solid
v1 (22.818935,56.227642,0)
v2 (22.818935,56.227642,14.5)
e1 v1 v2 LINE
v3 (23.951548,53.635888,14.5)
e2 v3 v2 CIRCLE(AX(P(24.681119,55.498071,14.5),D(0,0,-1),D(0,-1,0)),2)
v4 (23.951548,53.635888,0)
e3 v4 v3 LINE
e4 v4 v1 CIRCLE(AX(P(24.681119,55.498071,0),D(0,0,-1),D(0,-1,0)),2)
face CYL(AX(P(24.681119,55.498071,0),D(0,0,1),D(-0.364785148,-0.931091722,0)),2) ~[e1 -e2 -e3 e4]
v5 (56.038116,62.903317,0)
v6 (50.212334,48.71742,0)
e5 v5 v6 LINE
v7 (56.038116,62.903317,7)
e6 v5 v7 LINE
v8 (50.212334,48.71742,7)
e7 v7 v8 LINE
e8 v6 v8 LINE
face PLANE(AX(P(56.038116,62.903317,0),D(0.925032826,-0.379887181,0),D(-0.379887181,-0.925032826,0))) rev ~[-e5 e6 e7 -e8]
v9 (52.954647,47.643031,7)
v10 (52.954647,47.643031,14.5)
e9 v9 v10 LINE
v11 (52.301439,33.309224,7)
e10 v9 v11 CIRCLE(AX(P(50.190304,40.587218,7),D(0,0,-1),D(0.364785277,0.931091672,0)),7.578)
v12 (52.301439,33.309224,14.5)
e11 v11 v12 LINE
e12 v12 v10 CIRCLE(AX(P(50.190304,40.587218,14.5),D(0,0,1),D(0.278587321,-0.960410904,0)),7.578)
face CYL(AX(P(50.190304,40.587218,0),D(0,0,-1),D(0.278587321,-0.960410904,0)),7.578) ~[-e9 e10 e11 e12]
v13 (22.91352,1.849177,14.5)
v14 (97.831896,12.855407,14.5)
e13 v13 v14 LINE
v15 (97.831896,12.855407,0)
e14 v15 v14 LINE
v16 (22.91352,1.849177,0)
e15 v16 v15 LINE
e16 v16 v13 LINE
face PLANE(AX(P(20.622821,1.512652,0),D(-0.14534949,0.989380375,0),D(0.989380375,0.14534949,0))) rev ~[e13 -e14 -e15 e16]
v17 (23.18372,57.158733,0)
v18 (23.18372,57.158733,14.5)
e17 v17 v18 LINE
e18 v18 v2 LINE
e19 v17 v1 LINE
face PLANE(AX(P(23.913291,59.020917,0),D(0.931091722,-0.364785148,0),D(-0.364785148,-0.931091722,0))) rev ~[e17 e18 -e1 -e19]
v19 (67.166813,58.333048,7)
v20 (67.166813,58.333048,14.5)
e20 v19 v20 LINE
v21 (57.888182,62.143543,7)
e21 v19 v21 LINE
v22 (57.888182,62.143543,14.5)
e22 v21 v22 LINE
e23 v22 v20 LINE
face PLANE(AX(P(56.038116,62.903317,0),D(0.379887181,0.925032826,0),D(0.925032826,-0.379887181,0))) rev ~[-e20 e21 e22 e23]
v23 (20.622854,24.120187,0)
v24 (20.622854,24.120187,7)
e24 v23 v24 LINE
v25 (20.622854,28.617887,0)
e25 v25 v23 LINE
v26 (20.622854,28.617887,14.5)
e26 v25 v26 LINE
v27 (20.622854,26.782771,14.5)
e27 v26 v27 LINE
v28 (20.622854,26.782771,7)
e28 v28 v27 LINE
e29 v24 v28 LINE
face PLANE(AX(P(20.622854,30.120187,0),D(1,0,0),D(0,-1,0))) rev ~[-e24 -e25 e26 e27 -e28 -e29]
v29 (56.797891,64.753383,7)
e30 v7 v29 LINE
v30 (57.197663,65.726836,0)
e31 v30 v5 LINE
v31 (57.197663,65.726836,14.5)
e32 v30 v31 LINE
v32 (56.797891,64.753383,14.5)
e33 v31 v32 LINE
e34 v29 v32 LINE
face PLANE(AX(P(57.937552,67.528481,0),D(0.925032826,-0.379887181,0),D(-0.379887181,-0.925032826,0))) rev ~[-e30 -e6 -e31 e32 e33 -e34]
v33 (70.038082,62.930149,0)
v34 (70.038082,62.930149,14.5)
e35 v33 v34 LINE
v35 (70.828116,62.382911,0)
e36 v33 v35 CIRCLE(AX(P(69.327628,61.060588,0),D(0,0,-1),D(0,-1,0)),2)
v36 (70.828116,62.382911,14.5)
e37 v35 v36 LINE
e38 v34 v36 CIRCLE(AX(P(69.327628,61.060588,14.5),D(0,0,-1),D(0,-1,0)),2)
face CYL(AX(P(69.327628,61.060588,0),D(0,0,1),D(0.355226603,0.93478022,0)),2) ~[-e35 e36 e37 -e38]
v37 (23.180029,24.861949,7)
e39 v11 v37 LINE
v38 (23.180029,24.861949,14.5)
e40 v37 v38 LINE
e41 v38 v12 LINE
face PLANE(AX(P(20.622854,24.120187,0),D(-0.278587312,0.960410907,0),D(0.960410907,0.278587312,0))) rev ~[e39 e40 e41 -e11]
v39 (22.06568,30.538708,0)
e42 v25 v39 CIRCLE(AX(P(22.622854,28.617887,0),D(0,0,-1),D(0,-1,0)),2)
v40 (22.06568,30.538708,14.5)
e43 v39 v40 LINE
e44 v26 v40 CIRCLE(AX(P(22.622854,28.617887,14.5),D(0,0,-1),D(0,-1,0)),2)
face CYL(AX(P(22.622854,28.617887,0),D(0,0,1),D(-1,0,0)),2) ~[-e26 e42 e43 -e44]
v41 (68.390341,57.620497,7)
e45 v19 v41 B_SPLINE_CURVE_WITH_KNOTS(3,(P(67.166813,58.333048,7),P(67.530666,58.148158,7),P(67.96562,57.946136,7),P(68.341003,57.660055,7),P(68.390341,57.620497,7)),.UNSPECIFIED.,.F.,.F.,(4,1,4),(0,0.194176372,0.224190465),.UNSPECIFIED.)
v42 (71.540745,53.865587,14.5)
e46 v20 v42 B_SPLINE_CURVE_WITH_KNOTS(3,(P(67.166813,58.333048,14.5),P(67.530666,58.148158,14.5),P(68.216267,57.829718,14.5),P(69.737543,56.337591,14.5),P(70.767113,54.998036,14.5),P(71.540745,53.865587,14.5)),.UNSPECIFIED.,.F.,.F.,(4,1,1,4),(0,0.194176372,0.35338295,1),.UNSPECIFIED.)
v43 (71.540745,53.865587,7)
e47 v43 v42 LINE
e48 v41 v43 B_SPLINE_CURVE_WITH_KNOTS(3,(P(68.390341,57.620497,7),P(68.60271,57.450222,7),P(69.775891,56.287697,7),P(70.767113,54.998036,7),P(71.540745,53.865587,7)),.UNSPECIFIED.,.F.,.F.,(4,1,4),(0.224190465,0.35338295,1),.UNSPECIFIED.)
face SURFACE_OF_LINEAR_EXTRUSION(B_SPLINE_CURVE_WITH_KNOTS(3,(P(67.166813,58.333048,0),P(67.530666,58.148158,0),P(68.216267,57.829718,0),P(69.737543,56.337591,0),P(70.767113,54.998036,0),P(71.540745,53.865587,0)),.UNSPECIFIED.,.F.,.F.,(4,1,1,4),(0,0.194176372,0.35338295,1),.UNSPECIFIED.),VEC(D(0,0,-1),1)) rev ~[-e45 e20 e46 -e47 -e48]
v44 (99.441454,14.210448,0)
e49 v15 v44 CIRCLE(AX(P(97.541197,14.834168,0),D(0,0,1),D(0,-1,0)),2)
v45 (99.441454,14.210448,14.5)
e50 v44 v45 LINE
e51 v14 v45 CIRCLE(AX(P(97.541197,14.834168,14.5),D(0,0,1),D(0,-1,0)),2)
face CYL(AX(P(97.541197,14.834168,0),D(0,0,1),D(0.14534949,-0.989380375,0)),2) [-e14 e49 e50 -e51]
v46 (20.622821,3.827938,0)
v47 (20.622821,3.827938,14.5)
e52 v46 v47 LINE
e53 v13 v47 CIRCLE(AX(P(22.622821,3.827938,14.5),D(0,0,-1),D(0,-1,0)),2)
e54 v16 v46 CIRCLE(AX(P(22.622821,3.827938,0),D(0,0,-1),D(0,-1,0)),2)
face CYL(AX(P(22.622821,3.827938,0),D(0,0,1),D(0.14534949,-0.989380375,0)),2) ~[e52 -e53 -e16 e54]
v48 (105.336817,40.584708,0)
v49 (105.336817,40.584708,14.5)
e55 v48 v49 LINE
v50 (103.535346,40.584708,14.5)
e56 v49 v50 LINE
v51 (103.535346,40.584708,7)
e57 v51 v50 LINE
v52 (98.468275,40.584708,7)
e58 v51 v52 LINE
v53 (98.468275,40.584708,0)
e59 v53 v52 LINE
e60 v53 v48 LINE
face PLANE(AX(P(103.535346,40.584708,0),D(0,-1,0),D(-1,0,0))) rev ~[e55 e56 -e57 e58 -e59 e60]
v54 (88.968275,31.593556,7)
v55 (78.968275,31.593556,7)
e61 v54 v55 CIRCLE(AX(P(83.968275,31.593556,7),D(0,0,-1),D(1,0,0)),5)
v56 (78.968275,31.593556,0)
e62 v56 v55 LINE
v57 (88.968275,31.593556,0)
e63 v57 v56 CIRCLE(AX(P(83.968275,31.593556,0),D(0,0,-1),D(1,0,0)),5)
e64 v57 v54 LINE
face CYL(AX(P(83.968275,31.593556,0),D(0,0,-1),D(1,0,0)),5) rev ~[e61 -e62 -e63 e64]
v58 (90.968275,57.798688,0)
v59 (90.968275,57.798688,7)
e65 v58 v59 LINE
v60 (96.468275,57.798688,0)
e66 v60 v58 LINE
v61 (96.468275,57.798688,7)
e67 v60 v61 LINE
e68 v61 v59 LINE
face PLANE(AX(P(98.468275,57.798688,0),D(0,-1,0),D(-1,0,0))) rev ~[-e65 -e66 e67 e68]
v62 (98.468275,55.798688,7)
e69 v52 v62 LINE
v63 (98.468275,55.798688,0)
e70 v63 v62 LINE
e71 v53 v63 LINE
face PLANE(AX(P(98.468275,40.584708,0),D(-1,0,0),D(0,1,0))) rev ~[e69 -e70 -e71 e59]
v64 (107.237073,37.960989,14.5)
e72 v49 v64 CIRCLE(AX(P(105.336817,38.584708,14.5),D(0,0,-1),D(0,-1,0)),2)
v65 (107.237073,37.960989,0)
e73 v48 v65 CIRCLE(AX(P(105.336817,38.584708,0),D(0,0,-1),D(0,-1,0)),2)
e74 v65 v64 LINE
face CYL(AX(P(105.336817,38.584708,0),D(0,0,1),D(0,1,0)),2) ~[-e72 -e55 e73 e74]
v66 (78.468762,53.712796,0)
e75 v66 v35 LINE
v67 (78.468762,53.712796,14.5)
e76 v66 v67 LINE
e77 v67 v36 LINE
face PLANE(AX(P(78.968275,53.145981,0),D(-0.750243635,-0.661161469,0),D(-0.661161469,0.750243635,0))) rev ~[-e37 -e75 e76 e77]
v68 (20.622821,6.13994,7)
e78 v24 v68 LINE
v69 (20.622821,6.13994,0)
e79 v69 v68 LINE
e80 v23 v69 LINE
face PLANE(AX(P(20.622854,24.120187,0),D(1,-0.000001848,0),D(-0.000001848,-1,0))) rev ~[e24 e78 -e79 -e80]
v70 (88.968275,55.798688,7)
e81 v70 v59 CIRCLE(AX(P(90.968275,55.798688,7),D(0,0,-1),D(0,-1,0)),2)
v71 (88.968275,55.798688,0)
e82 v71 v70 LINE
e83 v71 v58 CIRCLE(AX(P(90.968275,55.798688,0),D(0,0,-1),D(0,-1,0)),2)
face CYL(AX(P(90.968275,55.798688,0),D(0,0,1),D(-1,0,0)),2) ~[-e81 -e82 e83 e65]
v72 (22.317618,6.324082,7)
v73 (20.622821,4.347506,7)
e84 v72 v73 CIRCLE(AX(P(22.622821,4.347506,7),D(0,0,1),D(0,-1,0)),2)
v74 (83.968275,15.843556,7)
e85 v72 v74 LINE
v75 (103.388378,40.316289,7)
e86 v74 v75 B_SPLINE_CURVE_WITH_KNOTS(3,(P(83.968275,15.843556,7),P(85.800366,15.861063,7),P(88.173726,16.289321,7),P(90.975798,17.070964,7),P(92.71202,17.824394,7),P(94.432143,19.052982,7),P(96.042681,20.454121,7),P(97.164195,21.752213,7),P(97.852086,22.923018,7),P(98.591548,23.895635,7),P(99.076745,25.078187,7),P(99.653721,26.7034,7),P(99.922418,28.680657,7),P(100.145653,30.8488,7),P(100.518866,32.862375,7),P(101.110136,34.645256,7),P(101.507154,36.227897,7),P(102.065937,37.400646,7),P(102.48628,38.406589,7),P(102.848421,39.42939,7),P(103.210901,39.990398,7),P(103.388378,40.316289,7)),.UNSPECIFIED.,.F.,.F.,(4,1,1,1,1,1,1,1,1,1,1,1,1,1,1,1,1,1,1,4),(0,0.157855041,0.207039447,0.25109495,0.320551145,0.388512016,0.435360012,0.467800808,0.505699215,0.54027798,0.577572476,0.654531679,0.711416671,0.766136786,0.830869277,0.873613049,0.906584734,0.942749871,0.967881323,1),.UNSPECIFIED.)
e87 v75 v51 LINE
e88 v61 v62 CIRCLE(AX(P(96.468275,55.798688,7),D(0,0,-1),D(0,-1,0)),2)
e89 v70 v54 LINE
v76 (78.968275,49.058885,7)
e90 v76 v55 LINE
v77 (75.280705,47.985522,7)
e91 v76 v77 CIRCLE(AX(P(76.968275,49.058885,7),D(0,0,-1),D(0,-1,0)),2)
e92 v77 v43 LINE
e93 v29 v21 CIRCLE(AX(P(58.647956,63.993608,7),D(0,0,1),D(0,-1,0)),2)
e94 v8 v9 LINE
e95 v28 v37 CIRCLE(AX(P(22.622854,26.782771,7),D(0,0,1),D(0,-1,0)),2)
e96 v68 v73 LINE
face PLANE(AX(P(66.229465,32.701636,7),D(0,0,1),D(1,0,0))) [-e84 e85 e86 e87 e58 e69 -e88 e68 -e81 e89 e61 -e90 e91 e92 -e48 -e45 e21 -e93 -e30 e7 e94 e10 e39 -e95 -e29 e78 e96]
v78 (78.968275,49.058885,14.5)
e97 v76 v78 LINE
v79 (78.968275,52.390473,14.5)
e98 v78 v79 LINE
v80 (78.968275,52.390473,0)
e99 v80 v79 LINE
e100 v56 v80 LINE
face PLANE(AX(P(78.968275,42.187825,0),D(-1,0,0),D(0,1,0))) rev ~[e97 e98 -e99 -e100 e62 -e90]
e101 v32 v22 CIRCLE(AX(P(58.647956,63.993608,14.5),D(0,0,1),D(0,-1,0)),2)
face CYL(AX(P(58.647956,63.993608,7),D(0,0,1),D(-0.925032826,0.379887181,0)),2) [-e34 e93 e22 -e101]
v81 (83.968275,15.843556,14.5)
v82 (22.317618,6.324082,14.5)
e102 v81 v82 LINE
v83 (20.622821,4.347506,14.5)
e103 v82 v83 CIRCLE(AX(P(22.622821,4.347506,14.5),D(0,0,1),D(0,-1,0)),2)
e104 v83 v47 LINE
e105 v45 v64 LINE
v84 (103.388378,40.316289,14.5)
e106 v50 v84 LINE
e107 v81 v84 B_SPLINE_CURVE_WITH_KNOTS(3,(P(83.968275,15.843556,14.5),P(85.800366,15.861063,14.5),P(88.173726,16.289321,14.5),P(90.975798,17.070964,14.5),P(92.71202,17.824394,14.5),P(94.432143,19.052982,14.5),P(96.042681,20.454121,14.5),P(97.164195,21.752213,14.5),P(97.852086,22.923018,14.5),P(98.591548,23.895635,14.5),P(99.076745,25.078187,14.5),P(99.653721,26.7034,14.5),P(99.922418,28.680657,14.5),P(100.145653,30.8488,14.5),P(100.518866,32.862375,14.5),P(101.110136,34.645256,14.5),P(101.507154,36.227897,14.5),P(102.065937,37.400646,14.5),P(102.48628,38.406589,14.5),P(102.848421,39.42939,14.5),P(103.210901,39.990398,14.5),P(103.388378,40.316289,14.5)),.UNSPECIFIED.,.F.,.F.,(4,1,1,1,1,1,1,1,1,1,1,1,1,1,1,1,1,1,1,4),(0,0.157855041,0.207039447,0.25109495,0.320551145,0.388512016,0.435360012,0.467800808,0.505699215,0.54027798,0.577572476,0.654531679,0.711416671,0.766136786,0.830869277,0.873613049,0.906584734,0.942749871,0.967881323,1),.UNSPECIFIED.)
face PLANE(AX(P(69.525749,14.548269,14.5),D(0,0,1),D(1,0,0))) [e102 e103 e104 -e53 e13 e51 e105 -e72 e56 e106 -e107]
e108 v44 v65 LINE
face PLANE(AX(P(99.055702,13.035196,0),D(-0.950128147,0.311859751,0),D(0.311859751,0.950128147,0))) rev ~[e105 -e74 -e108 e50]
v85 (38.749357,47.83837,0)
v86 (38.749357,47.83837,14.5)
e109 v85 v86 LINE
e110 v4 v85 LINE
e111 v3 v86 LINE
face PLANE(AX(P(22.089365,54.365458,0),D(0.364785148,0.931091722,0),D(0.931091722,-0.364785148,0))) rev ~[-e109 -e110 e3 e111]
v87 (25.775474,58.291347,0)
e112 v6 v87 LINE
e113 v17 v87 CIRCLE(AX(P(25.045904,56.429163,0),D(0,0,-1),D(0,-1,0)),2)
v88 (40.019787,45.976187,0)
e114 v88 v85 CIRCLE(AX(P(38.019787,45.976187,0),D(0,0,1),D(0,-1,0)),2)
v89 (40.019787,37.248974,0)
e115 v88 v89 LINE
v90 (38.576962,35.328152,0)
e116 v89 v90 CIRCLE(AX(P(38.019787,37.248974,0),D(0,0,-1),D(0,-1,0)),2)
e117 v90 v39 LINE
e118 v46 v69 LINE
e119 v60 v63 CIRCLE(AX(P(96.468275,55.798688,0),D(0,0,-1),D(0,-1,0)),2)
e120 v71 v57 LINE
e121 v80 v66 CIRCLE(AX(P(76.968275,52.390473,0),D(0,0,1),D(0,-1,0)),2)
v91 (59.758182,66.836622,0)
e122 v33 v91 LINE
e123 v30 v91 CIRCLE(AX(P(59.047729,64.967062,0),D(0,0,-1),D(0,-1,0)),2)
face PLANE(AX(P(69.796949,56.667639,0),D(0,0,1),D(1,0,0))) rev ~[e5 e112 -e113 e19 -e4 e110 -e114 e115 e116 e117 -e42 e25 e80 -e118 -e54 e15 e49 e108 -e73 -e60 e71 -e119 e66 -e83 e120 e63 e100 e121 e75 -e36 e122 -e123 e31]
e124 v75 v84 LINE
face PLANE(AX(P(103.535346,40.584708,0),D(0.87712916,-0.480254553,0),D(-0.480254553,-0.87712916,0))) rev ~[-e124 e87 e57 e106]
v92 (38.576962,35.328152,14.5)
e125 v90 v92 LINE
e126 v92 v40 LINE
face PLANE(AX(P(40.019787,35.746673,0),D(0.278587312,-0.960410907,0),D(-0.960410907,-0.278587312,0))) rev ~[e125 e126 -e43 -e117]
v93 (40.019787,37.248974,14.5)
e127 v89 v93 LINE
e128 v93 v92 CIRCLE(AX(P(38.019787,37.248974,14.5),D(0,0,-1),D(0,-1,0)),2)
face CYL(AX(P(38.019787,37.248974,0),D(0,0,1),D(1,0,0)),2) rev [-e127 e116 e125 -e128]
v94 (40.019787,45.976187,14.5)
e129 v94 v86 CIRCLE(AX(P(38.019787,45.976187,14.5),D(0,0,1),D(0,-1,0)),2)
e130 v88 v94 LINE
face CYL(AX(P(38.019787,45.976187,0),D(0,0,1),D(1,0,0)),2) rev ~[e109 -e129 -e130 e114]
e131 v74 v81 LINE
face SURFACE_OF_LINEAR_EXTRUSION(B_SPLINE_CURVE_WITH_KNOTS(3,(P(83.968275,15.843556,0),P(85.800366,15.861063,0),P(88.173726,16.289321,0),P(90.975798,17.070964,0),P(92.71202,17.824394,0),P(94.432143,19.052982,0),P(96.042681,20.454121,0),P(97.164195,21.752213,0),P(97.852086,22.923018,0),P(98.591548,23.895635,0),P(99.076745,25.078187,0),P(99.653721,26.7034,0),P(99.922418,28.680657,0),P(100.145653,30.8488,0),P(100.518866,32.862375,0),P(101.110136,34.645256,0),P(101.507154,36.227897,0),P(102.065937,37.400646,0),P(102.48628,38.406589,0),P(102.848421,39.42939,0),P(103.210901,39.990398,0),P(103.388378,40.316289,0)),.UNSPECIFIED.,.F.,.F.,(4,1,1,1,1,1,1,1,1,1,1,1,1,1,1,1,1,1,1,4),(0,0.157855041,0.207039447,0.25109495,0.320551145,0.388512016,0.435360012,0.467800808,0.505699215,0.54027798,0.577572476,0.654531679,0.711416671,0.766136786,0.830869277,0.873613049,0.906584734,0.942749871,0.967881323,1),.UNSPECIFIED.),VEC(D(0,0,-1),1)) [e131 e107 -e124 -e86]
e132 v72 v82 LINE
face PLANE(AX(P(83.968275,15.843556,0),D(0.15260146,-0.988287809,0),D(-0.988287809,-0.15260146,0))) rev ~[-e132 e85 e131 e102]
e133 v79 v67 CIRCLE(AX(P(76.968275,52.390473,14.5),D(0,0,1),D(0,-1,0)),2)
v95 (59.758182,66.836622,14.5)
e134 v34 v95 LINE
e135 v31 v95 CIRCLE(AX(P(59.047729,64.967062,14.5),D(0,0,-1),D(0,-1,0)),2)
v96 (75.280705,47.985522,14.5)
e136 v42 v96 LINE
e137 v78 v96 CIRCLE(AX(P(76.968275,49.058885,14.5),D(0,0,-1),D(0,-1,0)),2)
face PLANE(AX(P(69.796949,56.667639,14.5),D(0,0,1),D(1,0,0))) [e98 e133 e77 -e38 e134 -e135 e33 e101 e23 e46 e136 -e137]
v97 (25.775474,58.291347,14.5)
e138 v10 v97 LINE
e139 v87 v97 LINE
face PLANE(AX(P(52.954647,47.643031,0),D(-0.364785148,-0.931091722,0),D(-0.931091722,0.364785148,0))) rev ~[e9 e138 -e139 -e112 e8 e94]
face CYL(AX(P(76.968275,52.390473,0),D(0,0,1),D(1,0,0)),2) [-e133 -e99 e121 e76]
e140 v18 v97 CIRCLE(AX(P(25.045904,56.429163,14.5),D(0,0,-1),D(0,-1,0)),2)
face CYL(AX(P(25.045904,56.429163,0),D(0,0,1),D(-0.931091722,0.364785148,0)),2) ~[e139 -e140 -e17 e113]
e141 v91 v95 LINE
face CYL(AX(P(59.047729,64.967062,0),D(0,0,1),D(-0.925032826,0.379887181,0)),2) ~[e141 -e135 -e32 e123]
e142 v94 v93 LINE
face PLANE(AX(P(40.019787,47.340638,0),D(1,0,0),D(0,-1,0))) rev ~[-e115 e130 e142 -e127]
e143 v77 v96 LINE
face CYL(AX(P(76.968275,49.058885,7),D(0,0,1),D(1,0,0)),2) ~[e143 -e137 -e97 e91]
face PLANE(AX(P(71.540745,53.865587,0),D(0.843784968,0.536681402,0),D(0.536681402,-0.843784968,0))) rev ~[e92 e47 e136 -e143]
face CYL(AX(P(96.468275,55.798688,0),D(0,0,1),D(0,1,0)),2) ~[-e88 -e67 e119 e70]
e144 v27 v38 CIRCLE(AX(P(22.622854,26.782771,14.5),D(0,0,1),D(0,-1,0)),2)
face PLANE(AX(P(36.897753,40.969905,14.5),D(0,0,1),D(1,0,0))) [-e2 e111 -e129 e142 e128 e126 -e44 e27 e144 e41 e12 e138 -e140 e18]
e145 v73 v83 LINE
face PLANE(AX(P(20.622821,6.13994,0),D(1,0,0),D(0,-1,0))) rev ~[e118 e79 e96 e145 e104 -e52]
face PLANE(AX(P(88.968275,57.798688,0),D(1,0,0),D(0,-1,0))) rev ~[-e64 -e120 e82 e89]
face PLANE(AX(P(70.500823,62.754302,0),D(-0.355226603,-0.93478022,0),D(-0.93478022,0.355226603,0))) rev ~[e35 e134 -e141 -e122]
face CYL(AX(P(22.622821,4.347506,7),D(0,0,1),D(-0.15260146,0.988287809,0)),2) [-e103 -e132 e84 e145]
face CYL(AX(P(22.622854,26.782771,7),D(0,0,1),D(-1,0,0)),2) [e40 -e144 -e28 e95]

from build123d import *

# Parameters (mm, degrees)
BOSS_EXTRUDE1_DEPTH = 7
BOSS_EXTRUDE2_DEPTH = 14.5
FILLET1_R           = 2


with BuildPart() as part:
    # Sketch1 → Boss-Extrude1 (new body)
    with BuildSketch(Plane.XY):
        with BuildLine():
            Line((78.968274755, 42.187825254), (71.540745427, 53.865587102))
            add(Edge.make_bspline(
                [(68.390340924, 57.620496538), (68.602709936, 57.450222077), (69.775890669, 56.287697417), (70.767112906, 54.998035869), (71.540745427, 53.865587102)],
                knots=[0.224190465, 0.224190465, 0.224190465, 0.224190465, 0.35338295, 1, 1, 1, 1], degree=3))
            add(Edge.make_bspline(
                [(67.166812946, 58.333047532), (67.530665789, 58.148158455), (67.965619608, 57.94613578), (68.341003199, 57.660054826), (68.390340924, 57.620496538)],
                knots=[0, 0, 0, 0, 0.194176372, 0.224190465, 0.224190465, 0.224190465, 0.224190465], degree=3))
            Line((67.166812946, 58.333047532), (56.038116318, 62.903316899))
            Line((56.038116318, 62.903316899), (50.212333598, 48.717420333))
            Line((50.212333598, 48.717420333), (52.954647131, 47.643030748))
            ThreePointArc((52.954647131, 47.643030748), (57.760447877, 40.242237766), (52.301439007, 33.309224011))
            Line((52.301439007, 33.309224011), (20.622854325, 24.120186594))
            Line((20.622854325, 24.120186594), (20.622821101, 6.139939904))
            Line((20.622821101, 6.139939904), (20.622821101, 6.062388022))
            Line((20.622821101, 6.062388022), (83.968274755, 15.843555634))
            add(Edge.make_bspline(
                [(83.968274755, 15.843555634), (85.800365799, 15.861062532), (88.173725783, 16.289321284), (90.975797999, 17.070964386), (92.71201966, 17.824393939), (94.432142997, 19.052982354), (96.042680501, 20.454120962), (97.16419489, 21.752212783), (97.85208587, 22.923017738), (98.591547775, 23.89563478), (99.076744993, 25.078186891), (99.653721004, 26.703400446), (99.922417932, 28.680656555), (100.145652546, 30.848800013), (100.518866207, 32.862374789), (101.110135911, 34.645256352), (101.507154147, 36.227897201), (102.065937234, 37.400646368), (102.486280277, 38.406589289), (102.848421122, 39.429390424), (103.210900567, 39.990397653), (103.388377927, 40.31628874)],
                knots=[0, 0, 0, 0, 0.157855041, 0.207039447, 0.25109495, 0.320551145, 0.388512016, 0.435360012, 0.467800808, 0.505699215, 0.54027798, 0.577572476, 0.654531679, 0.711416671, 0.766136786, 0.830869277, 0.873613049, 0.906584734, 0.942749871, 0.967881323, 1, 1, 1, 1], degree=3))
            Line((103.388377927, 40.31628874), (103.535345735, 40.584708371))
            Line((103.535345735, 40.584708371), (98.468274755, 40.584708371))
            Line((98.468274755, 40.584708371), (98.468274755, 57.798688379))
            Line((98.468274755, 57.798688379), (88.968274755, 57.798688379))
            Line((88.968274755, 57.798688379), (88.968274755, 31.593555634))
            ThreePointArc((88.968274755, 31.593555634), (83.968274755, 26.593555634), (78.968274755, 31.593555634))
            Line((78.968274755, 31.593555634), (78.968274755, 42.187825254))
        make_face()
    extrude(amount=BOSS_EXTRUDE1_DEPTH)

    # Sketch1<3> → Boss-Extrude2 (add)
    with BuildSketch(Plane.XY):
        with BuildLine():
            Line((78.968274755, 42.187825254), (78.968274755, 53.145980791))
            Line((78.968274755, 53.145980791), (70.500822854, 62.754302183))
            Line((70.500822854, 62.754302183), (57.937552223, 67.52848103))
            Line((57.937552223, 67.52848103), (56.038116318, 62.903316899))
            Line((56.038116318, 62.903316899), (67.166812946, 58.333047532))
            add(Edge.make_bspline(
                [(67.166812946, 58.333047532), (67.530665789, 58.148158455), (68.216267043, 57.829717754), (69.737542808, 56.337591135), (70.767112906, 54.998035869), (71.540745427, 53.865587102)],
                knots=[0, 0, 0, 0, 0.194176372, 0.35338295, 1, 1, 1, 1], degree=3))
            Line((71.540745427, 53.865587102), (78.968274755, 42.187825254))
        make_face()
        with BuildLine():
            Line((108.098254598, 40.584708371), (103.535345735, 40.584708371))
            Line((103.535345735, 40.584708371), (103.388377927, 40.31628874))
            add(Edge.make_bspline(
                [(83.968274755, 15.843555634), (85.800365799, 15.861062532), (88.173725783, 16.289321284), (90.975797999, 17.070964386), (92.71201966, 17.824393939), (94.432142997, 19.052982354), (96.042680501, 20.454120962), (97.16419489, 21.752212783), (97.85208587, 22.923017738), (98.591547775, 23.89563478), (99.076744993, 25.078186891), (99.653721004, 26.703400446), (99.922417932, 28.680656555), (100.145652546, 30.848800013), (100.518866207, 32.862374789), (101.110135911, 34.645256352), (101.507154147, 36.227897201), (102.065937234, 37.400646368), (102.486280277, 38.406589289), (102.848421122, 39.429390424), (103.210900567, 39.990397653), (103.388377927, 40.31628874)],
                knots=[0, 0, 0, 0, 0.157855041, 0.207039447, 0.25109495, 0.320551145, 0.388512016, 0.435360012, 0.467800808, 0.505699215, 0.54027798, 0.577572476, 0.654531679, 0.711416671, 0.766136786, 0.830869277, 0.873613049, 0.906584734, 0.942749871, 0.967881323, 1, 1, 1, 1], degree=3))
            Line((83.968274755, 15.843555634), (20.622821101, 6.062388022))
            Line((20.622821101, 6.062388022), (20.622821101, 1.512651605))
            Line((20.622821101, 1.512651605), (99.055701616, 13.03519587))
            Line((99.055701616, 13.03519587), (108.098254598, 40.584708371))
        make_face()
        with BuildLine():
            Line((52.954647131, 47.643030748), (23.913290613, 59.020916827))
            Line((23.913290613, 59.020916827), (22.089364871, 54.365458215))
            Line((22.089364871, 54.365458215), (40.019787084, 47.340638243))
            Line((40.019787084, 47.340638243), (40.019787084, 35.746673468))
            Line((40.019787084, 35.746673468), (20.622854325, 30.120186594))
            Line((20.622854325, 30.120186594), (20.622854325, 24.120186594))
            Line((20.622854325, 24.120186594), (52.301439007, 33.309224011))
            ThreePointArc((52.301439007, 33.309224011), (57.760447877, 40.242237766), (52.954647131, 47.643030748))
        make_face()
    extrude(amount=BOSS_EXTRUDE2_DEPTH)

    # Fillet1
    fillet1_edges = [part.edges().sort_by_distance(p)[0] for p in [
        (78.968274755, 53.145980791, 7.25),
        (70.500822854, 62.754302183, 7.25),
        (99.055701616, 13.03519587, 7.25),
        (108.098254598, 40.584708371, 7.25),
        (98.468274755, 57.798688379, 3.5),
        (88.968274755, 57.798688379, 3.5),
        (57.937552223, 67.52848103, 7.25),
        (56.038116318, 62.903316899, 10.75),
        (78.968274755, 42.187825254, 10.75),
        (20.622821101, 1.512651605, 7.25),
        (20.622854325, 24.120186594, 10.75),
        (20.622854325, 30.120186594, 7.25),
        (23.913290613, 59.020916827, 7.25),
        (22.089364871, 54.365458215, 7.25),
        (40.019787084, 47.340638243, 7.25),
        (40.019787084, 35.746673468, 7.25),
        (20.622821101, 6.062388022, 10.75),
    ]]
    fillet(fillet1_edges, radius=FILLET1_R)


solid = part.part
